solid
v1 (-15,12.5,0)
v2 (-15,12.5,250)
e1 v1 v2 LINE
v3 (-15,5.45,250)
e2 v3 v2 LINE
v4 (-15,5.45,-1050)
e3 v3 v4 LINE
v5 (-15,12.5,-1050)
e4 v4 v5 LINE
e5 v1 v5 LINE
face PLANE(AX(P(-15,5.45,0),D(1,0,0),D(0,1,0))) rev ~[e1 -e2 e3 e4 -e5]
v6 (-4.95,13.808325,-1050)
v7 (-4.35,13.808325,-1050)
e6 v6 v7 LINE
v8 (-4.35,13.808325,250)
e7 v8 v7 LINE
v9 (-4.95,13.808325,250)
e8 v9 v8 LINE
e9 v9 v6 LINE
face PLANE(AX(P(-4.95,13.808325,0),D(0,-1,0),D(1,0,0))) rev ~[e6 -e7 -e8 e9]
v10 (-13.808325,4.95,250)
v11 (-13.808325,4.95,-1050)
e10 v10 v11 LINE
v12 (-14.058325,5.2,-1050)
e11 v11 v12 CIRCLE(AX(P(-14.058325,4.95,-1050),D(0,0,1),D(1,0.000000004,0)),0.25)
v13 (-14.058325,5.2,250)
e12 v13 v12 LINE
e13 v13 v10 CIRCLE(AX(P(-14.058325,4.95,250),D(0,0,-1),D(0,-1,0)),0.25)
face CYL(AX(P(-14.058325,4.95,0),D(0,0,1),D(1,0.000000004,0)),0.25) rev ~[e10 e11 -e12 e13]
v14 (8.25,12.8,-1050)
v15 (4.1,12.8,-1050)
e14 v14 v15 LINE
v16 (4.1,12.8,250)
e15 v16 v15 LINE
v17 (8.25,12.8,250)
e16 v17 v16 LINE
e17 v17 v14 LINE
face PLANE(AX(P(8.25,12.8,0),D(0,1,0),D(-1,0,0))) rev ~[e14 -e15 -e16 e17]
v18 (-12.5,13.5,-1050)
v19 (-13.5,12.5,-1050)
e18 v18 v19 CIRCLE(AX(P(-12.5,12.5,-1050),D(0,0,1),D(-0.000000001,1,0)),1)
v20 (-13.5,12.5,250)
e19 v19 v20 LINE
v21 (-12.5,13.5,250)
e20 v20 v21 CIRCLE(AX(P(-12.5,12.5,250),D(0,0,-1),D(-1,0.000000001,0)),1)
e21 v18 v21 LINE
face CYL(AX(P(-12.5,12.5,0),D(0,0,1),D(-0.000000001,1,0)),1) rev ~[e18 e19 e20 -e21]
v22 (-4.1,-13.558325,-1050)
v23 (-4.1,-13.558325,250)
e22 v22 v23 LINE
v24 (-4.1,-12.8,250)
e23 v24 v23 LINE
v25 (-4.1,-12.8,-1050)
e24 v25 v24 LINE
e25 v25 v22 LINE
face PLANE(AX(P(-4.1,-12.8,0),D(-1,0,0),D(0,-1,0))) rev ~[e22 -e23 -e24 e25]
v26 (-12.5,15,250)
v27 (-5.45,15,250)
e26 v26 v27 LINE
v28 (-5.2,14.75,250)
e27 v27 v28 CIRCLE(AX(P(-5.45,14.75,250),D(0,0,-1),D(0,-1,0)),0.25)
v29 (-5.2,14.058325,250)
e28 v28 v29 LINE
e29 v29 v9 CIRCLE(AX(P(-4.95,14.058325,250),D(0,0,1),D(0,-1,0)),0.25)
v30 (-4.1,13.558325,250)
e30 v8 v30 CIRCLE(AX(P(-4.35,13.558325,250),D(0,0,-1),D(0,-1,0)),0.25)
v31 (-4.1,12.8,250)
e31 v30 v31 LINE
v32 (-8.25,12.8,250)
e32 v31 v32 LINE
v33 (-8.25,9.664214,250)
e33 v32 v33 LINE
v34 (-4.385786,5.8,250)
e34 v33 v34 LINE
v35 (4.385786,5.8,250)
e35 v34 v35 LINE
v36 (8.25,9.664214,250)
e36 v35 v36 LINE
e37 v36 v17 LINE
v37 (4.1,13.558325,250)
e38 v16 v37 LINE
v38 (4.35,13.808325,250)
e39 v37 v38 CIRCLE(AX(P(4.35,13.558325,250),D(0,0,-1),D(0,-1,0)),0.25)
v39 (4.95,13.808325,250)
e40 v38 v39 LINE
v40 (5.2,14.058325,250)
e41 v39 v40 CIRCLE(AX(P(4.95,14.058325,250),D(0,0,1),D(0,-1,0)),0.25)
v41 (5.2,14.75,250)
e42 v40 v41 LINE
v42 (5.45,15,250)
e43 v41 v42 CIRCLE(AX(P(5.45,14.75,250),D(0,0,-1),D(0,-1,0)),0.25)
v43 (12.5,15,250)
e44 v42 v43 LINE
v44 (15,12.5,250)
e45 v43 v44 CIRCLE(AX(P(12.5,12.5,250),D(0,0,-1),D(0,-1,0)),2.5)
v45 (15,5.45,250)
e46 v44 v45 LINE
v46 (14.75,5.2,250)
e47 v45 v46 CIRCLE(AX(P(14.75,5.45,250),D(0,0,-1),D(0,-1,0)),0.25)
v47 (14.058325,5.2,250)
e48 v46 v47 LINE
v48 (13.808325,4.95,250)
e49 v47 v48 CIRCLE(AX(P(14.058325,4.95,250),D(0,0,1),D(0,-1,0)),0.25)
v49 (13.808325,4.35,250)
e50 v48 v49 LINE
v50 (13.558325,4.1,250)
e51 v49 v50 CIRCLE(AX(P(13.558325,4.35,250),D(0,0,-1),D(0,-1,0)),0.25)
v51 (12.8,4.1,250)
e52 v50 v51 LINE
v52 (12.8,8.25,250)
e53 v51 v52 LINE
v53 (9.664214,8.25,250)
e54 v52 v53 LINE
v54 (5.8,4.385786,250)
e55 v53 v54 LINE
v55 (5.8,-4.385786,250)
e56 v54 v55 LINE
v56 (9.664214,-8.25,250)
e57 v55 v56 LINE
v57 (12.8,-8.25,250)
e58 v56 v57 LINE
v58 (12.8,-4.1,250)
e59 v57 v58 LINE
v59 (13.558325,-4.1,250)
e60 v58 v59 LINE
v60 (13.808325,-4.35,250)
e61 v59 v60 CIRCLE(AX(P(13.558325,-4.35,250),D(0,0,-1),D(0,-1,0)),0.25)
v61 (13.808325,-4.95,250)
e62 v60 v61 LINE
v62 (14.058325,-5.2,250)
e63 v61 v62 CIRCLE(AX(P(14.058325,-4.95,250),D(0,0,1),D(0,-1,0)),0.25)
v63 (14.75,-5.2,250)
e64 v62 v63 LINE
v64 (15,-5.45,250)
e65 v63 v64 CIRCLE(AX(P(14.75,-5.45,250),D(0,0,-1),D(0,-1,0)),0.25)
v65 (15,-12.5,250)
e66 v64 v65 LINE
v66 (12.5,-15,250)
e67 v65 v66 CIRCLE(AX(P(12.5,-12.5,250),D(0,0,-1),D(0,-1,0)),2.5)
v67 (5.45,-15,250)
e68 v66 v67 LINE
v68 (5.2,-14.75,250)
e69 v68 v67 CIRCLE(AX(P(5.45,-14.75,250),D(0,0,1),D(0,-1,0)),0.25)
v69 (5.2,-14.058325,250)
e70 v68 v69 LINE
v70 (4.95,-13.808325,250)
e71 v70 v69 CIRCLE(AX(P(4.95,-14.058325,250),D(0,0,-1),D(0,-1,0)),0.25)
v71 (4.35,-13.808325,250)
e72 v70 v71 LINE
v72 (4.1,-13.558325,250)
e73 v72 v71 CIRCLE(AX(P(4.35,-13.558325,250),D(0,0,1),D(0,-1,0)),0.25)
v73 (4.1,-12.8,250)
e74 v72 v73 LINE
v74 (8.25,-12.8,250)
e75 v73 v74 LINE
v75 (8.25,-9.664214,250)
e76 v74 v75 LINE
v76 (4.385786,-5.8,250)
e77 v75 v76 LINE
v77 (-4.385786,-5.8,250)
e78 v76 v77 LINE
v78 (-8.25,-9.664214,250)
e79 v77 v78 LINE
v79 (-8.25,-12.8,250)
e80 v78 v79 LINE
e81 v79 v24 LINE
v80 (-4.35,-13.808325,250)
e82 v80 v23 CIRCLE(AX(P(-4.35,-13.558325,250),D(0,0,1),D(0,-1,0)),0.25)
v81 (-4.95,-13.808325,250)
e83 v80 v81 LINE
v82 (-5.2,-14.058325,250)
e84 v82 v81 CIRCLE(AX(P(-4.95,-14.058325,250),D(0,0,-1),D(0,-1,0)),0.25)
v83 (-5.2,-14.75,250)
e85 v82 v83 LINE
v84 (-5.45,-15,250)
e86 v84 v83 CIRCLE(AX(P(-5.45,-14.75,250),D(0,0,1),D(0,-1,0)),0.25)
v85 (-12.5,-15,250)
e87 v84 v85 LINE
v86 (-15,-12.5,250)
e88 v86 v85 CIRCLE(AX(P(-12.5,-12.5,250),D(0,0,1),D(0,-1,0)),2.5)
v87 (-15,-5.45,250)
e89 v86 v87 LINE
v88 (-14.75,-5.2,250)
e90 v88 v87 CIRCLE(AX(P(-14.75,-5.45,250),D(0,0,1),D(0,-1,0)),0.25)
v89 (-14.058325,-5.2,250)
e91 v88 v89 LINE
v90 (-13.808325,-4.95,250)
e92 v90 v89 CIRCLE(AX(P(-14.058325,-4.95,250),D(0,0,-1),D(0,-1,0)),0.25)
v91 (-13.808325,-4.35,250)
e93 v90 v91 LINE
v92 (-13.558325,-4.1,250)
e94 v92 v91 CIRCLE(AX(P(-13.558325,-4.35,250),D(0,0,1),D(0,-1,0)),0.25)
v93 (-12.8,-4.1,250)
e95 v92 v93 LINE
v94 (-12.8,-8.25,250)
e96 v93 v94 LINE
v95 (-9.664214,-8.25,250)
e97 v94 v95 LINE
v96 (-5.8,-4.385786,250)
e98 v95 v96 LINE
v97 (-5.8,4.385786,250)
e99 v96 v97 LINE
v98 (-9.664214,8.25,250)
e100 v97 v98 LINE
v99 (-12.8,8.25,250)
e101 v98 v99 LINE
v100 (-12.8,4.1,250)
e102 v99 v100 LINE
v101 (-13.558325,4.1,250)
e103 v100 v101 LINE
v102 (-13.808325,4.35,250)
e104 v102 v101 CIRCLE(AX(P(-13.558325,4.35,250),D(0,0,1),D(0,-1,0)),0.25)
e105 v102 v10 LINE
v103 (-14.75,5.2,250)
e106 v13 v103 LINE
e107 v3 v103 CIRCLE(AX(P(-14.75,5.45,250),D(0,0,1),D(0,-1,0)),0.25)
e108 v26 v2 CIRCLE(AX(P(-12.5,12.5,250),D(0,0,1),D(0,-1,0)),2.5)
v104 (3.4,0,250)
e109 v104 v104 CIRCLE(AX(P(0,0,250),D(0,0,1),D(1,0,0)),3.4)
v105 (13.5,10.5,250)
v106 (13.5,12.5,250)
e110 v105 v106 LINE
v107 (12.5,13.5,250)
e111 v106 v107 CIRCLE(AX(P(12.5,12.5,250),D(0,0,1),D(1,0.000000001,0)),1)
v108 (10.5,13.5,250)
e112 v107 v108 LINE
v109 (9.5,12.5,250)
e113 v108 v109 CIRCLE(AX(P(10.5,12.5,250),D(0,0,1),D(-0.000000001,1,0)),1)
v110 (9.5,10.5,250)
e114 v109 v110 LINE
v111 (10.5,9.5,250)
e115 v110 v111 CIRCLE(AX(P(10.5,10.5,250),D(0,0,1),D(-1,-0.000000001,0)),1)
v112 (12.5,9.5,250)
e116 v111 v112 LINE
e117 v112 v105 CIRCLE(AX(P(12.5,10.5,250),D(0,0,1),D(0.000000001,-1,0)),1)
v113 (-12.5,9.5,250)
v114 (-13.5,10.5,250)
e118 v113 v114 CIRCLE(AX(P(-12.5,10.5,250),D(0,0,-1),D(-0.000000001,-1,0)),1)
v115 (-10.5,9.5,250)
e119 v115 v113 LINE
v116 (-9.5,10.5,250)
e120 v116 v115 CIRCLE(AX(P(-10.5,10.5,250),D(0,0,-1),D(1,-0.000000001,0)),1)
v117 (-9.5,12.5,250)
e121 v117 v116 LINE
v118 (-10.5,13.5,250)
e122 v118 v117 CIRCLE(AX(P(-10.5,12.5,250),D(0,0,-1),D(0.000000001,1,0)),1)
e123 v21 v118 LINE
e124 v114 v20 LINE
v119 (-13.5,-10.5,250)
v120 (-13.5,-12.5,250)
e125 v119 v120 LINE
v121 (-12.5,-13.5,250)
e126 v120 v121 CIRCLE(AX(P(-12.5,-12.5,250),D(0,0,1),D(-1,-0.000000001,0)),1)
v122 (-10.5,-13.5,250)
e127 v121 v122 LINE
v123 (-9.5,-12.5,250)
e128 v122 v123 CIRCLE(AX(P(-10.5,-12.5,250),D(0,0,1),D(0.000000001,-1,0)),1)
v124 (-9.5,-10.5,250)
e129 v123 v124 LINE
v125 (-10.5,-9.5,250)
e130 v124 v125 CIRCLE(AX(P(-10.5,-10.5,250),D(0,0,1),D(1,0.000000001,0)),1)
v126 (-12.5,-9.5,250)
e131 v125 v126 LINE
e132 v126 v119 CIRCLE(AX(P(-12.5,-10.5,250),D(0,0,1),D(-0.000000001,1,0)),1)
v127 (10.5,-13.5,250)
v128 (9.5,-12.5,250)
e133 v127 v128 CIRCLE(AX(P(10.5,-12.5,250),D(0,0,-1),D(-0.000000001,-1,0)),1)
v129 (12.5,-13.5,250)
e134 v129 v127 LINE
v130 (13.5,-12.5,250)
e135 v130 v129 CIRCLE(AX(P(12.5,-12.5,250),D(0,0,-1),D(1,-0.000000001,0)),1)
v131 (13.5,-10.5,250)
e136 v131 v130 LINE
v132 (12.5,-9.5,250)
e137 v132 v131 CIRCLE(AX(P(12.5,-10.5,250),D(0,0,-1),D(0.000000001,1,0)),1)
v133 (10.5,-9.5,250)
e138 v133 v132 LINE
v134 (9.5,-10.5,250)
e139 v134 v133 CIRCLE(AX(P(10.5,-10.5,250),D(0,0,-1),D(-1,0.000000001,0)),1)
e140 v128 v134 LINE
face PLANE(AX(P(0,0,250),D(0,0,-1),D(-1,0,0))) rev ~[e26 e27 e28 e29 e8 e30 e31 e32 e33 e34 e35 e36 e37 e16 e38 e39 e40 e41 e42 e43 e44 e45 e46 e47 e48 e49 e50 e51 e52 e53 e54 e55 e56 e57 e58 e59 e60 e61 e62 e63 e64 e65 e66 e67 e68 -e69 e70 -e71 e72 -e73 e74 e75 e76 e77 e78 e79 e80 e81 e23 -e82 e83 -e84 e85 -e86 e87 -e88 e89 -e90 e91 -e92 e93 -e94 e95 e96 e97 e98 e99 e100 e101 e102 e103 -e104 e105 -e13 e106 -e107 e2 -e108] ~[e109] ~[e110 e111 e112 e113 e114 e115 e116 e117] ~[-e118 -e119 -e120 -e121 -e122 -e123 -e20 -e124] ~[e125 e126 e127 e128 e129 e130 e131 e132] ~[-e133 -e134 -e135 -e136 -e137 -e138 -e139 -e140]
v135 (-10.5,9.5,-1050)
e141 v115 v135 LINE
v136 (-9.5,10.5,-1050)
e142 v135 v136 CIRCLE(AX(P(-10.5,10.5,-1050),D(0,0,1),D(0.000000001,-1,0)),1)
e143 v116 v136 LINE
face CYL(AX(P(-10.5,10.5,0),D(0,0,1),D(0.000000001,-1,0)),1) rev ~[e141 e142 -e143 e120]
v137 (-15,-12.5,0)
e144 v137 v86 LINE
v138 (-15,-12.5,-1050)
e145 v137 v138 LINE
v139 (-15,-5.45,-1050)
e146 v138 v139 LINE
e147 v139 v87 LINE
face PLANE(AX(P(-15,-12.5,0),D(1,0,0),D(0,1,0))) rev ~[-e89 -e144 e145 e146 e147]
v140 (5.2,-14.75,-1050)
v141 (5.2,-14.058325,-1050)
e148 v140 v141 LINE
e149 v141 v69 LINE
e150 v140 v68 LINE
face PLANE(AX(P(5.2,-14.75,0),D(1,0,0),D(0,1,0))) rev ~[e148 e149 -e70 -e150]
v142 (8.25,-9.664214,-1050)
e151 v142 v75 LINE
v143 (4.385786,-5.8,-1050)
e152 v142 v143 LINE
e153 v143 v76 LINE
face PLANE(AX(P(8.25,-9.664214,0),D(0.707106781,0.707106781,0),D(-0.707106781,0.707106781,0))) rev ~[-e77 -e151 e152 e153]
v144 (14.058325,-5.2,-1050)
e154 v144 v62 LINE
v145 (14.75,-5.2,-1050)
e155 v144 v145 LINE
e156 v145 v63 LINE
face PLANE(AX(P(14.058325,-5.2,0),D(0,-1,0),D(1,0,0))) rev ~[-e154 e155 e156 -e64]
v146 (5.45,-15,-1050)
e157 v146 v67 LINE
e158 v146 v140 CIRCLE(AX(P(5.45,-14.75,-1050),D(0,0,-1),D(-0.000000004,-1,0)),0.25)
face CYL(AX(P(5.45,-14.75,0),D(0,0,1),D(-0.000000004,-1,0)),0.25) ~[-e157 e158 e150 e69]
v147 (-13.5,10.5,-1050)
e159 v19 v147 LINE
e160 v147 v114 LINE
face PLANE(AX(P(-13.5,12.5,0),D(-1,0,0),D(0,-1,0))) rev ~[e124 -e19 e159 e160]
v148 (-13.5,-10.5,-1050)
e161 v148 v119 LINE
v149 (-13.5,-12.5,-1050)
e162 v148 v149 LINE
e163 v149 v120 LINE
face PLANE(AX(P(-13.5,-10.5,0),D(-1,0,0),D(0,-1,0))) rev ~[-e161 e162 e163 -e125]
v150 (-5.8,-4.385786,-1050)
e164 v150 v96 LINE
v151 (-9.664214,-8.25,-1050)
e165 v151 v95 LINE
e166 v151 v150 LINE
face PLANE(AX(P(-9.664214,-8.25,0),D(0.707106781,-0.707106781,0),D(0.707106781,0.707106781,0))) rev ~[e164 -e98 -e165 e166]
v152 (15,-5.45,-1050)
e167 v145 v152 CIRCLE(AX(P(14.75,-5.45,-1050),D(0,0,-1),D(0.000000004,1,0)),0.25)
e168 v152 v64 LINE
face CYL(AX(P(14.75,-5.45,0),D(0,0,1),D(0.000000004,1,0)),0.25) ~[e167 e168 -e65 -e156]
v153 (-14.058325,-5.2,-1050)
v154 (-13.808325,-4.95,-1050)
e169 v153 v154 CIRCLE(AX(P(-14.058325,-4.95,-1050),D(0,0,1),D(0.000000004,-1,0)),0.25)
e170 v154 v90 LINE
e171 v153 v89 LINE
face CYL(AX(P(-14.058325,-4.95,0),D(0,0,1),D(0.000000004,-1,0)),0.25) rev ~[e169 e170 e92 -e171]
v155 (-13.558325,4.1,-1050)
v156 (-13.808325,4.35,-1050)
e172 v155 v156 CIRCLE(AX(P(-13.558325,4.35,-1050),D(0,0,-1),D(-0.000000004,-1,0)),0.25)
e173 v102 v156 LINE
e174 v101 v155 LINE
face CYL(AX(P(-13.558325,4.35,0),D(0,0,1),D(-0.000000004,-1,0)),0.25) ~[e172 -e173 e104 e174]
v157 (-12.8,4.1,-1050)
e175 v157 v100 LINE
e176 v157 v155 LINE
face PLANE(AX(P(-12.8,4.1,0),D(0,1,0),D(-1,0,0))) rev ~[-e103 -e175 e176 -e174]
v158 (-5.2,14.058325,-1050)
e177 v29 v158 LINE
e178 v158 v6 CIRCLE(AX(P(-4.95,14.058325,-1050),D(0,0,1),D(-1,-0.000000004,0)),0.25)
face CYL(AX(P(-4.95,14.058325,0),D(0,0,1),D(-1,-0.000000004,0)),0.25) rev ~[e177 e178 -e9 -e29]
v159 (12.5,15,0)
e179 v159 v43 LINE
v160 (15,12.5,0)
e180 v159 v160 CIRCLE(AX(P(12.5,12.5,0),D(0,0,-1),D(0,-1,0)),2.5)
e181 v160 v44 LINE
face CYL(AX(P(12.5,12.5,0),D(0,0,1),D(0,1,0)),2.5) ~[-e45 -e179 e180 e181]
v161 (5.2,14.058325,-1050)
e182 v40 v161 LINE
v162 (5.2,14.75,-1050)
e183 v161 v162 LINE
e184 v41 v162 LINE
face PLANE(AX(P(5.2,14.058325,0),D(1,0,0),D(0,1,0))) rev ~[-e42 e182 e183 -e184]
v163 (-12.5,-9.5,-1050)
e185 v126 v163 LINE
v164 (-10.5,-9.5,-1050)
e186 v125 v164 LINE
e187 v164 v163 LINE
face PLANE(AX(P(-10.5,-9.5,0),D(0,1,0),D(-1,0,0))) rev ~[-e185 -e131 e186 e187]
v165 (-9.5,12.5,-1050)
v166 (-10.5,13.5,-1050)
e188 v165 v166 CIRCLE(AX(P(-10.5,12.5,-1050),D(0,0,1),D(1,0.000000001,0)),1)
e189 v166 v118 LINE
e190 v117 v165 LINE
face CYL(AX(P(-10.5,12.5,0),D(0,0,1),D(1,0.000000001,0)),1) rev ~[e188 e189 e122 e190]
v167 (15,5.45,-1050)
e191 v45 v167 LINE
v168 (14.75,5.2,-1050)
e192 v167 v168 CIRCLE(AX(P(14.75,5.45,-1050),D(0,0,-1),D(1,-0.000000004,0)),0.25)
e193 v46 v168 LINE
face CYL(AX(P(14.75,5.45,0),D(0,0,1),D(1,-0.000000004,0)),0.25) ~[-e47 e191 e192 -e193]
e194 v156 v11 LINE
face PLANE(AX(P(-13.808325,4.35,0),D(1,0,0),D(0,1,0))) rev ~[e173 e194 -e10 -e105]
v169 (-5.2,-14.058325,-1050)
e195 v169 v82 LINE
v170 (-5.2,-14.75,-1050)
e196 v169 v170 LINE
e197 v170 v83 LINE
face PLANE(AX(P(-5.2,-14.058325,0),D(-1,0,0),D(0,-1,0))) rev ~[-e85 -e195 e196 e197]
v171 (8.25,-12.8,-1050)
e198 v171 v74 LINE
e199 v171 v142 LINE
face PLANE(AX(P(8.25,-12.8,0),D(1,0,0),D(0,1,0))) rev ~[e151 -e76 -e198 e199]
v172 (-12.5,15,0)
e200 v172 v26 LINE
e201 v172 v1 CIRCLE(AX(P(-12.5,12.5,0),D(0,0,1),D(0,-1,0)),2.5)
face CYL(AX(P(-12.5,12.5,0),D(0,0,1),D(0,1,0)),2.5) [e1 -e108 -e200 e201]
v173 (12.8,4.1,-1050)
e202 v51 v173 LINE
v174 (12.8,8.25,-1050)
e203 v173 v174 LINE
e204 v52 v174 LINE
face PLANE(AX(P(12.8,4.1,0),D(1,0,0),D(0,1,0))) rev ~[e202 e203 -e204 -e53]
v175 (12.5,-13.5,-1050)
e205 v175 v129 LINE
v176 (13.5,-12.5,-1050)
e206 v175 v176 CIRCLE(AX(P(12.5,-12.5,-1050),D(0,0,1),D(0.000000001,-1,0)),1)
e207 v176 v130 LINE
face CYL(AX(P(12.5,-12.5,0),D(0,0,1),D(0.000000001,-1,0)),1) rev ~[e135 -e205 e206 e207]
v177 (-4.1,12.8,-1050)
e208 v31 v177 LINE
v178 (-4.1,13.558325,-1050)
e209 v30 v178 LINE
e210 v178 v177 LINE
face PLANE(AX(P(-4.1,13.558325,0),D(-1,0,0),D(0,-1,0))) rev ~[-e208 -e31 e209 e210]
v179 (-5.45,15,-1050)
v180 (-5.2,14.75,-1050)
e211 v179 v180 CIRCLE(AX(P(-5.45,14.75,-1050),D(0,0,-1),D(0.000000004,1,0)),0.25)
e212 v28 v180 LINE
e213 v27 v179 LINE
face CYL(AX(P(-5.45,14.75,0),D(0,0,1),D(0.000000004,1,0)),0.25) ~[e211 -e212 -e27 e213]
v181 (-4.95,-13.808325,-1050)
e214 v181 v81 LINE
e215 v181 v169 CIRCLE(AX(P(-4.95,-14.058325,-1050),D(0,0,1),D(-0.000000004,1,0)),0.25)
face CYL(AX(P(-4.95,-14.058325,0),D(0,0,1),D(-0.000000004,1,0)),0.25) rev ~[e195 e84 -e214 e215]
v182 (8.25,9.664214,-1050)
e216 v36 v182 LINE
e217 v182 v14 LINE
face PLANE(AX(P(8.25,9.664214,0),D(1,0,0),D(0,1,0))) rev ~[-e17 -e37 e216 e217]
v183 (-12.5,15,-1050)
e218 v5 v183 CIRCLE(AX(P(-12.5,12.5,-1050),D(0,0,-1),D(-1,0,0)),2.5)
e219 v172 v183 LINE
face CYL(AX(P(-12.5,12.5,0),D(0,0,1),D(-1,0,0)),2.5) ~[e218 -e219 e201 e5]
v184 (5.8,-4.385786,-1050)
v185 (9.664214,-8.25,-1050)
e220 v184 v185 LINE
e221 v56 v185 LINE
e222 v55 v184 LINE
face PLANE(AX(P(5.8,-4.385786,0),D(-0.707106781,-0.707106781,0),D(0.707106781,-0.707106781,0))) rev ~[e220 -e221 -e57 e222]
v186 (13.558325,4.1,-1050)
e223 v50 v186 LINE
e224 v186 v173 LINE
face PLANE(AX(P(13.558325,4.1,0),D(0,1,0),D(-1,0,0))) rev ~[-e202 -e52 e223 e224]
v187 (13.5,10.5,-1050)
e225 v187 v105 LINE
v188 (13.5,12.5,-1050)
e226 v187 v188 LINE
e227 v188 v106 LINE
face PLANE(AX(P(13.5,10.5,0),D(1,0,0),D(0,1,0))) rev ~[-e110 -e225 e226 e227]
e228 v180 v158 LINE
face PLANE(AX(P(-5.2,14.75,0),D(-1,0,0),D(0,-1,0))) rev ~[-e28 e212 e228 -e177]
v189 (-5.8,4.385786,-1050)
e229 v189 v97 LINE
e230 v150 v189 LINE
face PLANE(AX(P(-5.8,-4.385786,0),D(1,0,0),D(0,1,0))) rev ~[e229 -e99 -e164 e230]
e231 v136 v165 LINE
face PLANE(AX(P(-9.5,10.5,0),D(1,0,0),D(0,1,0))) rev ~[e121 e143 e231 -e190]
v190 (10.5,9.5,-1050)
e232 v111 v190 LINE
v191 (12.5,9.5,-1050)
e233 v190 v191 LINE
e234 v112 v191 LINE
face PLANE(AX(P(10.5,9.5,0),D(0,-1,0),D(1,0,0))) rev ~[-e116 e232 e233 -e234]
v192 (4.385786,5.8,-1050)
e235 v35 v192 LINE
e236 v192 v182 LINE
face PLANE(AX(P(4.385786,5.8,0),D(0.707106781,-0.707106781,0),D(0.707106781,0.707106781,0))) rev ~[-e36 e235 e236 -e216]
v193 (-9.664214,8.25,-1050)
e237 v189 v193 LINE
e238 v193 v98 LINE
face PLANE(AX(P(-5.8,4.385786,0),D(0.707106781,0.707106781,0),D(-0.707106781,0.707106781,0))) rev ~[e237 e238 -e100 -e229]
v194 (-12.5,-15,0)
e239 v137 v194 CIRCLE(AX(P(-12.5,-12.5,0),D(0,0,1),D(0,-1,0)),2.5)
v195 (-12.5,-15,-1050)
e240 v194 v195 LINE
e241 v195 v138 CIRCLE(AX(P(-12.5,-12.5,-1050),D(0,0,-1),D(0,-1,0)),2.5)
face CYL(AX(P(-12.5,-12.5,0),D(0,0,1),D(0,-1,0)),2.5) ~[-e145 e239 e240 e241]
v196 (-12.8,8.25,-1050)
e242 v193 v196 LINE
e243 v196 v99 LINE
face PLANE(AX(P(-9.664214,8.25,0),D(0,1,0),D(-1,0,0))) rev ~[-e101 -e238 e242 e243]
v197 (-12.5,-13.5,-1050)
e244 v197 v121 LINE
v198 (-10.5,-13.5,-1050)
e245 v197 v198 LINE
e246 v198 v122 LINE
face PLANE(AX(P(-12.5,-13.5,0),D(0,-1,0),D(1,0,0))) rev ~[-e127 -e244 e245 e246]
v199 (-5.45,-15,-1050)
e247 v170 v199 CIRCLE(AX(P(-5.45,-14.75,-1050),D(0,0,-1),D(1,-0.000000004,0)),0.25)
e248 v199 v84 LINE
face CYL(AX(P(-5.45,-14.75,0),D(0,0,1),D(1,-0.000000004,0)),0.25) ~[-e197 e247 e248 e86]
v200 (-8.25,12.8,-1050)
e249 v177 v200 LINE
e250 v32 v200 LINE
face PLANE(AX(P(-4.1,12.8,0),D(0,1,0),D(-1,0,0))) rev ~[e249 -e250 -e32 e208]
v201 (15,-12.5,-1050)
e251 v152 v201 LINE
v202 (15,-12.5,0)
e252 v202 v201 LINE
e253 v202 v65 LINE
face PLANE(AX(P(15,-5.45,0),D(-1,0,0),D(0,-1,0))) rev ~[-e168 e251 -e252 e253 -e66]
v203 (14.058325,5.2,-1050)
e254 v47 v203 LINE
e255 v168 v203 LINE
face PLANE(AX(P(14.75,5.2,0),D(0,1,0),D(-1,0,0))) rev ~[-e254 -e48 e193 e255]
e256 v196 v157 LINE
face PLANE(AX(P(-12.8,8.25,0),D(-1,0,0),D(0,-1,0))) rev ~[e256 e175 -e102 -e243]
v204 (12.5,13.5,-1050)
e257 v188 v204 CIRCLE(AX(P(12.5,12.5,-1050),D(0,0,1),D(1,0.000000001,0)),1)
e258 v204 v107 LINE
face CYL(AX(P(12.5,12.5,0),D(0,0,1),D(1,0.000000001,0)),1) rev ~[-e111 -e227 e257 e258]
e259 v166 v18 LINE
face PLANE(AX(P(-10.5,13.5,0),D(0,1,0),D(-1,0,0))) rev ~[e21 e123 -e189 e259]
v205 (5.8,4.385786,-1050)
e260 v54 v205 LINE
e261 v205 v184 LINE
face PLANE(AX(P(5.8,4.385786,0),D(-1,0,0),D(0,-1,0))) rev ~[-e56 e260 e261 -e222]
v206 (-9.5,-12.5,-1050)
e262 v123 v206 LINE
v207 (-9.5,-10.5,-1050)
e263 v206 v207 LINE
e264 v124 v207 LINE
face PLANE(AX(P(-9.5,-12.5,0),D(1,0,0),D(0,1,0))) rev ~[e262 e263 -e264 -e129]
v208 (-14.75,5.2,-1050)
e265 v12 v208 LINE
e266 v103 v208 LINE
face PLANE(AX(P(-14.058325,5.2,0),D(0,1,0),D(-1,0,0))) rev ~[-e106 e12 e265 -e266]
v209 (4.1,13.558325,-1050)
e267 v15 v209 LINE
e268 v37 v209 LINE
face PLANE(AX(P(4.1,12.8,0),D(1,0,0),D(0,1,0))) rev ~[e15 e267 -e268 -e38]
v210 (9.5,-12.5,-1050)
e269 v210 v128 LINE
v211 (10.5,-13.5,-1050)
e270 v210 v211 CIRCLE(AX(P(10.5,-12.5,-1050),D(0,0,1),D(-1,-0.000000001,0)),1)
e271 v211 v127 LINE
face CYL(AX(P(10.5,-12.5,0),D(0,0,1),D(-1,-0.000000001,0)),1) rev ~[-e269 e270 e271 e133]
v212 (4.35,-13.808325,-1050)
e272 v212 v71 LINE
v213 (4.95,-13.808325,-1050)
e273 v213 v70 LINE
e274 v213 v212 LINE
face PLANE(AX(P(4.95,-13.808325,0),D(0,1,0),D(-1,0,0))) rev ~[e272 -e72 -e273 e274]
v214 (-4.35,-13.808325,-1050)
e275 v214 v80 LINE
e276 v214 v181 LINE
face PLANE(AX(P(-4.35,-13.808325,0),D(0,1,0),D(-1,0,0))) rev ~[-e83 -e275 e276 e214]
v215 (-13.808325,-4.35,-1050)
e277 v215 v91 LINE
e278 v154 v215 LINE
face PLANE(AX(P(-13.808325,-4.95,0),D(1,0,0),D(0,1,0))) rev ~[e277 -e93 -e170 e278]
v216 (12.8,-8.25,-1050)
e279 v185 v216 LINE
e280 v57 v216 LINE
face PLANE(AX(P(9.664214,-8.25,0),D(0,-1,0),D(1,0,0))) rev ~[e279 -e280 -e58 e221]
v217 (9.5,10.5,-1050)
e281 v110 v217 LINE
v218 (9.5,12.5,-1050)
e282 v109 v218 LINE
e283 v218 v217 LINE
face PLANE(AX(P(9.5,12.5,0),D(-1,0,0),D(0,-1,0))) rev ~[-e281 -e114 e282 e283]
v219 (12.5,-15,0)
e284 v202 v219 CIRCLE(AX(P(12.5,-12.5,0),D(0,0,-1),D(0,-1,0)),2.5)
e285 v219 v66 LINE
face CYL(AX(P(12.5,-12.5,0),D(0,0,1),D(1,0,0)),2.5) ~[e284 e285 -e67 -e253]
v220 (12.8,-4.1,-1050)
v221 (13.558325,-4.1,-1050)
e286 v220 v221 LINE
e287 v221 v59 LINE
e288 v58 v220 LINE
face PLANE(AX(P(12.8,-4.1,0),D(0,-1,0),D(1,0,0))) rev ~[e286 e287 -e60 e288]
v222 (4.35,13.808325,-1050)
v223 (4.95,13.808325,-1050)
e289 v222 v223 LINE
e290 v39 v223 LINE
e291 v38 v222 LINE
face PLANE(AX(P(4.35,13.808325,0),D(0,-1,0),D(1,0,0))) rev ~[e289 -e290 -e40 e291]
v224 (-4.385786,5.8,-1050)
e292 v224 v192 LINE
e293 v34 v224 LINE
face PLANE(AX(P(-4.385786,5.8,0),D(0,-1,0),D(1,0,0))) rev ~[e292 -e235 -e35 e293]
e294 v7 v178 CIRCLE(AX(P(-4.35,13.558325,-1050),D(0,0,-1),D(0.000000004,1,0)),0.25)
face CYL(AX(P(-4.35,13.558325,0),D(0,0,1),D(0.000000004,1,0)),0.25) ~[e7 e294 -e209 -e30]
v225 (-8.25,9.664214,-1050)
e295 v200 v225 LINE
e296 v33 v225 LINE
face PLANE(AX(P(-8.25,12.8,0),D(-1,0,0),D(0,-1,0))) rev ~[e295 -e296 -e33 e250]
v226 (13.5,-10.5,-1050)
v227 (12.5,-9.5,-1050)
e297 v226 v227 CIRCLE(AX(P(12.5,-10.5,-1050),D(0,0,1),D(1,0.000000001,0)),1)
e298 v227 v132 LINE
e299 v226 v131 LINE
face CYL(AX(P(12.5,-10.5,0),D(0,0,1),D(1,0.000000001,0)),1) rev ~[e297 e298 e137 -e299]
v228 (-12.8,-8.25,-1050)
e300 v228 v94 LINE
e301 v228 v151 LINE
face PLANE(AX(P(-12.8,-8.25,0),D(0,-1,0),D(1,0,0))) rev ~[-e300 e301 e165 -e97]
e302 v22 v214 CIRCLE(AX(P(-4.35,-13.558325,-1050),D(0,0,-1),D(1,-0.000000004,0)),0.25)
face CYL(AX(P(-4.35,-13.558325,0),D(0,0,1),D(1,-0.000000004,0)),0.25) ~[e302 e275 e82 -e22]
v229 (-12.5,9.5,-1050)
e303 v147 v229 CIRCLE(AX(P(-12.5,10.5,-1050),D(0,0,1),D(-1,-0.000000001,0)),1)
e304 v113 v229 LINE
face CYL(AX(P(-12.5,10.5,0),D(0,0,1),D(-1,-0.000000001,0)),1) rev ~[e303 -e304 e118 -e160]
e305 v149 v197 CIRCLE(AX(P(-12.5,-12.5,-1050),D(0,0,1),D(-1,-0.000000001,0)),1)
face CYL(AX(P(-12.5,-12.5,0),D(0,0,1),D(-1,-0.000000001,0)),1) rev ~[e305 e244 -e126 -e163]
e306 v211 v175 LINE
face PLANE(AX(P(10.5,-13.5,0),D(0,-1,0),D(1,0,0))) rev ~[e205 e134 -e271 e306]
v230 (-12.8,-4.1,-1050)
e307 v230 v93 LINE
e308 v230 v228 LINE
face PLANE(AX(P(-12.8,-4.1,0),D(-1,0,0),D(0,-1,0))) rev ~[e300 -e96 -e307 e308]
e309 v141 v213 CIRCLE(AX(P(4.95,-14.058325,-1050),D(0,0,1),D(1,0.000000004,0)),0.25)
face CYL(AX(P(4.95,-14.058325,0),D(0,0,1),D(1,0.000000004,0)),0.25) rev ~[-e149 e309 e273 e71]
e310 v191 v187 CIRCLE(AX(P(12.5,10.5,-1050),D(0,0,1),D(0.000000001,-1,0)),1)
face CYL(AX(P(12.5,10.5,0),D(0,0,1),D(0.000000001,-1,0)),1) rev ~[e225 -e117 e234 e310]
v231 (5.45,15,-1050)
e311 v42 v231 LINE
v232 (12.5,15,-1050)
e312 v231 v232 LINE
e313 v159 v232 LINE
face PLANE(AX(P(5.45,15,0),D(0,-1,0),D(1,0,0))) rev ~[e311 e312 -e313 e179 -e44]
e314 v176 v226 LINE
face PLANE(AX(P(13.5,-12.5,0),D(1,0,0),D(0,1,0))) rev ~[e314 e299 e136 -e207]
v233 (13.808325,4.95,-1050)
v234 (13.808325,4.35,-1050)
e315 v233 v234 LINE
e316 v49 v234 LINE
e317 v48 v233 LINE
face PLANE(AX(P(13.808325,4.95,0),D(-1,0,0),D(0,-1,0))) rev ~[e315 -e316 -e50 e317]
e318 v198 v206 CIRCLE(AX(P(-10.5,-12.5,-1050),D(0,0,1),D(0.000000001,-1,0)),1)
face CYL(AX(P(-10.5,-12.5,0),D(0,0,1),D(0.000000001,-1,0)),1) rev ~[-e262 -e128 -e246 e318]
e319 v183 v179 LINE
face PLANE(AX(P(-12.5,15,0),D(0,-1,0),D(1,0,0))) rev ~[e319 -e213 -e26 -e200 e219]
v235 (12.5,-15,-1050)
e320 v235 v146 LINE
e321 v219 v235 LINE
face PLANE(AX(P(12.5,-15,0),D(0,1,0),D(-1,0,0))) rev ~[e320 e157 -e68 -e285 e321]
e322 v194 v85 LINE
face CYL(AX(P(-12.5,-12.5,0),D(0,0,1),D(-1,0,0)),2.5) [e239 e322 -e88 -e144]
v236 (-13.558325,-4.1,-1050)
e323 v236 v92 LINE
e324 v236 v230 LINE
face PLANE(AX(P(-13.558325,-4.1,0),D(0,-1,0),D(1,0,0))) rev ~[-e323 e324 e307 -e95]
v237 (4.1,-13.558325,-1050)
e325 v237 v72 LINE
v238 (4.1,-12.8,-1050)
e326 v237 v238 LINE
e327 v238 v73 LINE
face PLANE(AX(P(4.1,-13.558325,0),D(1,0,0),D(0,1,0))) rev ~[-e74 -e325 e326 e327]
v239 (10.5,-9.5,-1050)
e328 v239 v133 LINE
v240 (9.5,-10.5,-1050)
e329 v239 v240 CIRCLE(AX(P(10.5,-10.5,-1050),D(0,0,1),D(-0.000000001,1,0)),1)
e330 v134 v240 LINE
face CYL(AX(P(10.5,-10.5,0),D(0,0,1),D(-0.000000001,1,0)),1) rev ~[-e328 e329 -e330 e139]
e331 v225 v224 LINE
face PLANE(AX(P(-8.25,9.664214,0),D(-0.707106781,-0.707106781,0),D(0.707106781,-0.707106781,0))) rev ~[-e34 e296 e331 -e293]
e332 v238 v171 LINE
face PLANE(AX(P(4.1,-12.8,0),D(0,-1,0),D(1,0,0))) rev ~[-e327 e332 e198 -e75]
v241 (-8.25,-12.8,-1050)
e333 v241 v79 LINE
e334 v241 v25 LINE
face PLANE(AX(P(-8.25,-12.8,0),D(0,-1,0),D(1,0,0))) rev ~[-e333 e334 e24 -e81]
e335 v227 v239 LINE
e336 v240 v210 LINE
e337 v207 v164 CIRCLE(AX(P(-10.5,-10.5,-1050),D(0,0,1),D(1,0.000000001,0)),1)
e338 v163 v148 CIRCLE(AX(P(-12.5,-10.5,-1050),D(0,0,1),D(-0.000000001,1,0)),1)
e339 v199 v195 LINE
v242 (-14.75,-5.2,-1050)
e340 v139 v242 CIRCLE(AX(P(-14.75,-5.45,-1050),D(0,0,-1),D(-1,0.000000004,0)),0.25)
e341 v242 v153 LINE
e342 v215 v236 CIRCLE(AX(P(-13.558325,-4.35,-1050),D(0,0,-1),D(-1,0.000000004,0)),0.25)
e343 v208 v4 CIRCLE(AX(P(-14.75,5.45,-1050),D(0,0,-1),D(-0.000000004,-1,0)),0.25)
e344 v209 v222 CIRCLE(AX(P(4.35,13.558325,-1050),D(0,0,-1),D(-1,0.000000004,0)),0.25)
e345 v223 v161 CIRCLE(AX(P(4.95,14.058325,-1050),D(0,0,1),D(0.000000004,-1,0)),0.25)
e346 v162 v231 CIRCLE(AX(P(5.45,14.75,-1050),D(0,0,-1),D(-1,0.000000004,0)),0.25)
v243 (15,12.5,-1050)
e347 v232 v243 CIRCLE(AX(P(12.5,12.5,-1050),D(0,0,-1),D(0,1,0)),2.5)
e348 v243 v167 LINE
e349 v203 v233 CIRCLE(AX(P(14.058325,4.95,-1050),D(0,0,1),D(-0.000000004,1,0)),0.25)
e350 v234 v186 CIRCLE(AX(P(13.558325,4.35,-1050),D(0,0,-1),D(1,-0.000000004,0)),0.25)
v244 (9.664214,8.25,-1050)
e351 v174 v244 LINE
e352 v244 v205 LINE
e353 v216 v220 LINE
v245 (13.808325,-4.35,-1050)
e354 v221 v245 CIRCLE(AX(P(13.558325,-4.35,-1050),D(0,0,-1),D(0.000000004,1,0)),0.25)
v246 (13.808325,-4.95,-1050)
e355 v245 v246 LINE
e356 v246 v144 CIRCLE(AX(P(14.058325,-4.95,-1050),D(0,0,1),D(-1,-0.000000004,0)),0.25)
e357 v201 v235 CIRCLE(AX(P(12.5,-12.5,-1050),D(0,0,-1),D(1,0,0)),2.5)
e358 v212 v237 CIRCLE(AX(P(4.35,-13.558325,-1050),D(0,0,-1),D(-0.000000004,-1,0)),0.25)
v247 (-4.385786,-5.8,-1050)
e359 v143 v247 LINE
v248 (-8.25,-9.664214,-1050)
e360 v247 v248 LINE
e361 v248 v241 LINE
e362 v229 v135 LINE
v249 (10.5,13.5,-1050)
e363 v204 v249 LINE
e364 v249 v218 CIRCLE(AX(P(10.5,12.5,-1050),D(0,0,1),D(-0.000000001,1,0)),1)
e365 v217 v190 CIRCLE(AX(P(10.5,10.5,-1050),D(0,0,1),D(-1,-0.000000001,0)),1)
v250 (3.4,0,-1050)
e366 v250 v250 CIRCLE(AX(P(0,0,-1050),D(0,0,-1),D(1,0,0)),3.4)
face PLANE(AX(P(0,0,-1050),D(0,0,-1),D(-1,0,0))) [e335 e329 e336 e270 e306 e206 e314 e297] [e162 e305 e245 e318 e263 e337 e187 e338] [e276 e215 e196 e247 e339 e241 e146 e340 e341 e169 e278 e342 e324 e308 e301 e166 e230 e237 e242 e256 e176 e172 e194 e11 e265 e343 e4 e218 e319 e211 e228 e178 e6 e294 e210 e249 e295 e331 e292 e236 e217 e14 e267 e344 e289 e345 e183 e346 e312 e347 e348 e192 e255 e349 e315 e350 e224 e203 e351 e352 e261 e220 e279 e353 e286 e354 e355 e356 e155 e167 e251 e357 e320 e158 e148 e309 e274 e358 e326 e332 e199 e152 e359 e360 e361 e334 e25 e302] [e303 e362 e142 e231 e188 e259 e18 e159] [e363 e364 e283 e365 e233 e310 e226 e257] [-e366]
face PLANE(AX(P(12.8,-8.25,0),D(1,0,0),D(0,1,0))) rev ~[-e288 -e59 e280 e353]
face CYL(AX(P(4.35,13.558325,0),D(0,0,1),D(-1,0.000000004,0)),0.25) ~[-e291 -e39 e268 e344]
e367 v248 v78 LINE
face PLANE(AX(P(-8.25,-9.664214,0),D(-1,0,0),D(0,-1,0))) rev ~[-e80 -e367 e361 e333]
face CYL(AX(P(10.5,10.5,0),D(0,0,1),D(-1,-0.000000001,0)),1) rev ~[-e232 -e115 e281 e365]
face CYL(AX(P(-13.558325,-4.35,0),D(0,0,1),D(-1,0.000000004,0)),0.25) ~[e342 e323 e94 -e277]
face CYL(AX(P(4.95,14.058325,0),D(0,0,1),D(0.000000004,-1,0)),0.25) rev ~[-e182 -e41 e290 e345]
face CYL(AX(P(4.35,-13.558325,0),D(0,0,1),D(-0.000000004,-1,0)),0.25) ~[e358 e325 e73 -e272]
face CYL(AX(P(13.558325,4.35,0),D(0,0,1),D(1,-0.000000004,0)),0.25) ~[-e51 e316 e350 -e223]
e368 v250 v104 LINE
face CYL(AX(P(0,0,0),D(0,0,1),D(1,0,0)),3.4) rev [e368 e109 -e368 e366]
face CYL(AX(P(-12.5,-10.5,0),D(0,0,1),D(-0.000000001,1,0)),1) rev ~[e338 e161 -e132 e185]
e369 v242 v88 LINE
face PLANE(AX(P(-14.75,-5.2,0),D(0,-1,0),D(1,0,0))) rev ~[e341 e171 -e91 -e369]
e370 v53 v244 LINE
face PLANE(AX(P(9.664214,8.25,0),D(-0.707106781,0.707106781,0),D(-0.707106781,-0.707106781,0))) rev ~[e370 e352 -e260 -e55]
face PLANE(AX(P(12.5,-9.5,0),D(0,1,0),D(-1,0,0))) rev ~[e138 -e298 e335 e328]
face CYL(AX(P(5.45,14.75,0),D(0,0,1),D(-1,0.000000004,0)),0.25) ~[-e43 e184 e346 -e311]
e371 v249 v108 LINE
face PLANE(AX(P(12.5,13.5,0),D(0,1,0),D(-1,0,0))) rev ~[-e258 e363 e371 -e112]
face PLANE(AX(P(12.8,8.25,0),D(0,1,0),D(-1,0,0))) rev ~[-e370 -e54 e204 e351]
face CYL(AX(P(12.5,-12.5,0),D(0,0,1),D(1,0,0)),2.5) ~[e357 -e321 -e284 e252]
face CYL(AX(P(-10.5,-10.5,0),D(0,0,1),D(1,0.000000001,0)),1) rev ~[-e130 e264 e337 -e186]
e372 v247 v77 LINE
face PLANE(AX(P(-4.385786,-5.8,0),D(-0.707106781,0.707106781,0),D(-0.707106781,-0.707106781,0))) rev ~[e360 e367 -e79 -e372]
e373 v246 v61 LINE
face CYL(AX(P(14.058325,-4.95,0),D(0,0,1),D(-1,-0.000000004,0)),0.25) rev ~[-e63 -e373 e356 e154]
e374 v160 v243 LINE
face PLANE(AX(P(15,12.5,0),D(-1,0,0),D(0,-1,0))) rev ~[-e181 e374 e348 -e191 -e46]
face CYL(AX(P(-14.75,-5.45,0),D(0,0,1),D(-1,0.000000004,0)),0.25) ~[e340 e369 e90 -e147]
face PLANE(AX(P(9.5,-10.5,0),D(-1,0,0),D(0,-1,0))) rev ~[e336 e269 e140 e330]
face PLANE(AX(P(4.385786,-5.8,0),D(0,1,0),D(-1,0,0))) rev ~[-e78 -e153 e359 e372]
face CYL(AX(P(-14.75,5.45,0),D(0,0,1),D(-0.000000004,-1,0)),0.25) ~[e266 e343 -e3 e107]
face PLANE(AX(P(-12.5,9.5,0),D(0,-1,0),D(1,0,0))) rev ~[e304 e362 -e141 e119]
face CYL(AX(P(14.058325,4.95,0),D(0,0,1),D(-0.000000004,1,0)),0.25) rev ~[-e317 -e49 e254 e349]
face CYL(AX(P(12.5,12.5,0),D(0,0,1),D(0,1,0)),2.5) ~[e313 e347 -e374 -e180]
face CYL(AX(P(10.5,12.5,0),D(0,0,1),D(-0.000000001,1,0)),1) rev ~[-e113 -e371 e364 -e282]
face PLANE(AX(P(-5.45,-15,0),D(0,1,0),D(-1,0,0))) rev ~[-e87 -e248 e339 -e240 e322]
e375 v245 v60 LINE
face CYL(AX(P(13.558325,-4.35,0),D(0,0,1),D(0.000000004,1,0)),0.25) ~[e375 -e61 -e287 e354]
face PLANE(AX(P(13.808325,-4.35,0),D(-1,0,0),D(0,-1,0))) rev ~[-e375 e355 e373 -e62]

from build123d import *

# Parameters (mm, degrees)
BOSS_EXTRUDE1_DEPTH = 250
SKETCH2_R           = 3.4
CUT_EXTRUDE1_DEPTH  = 251.898385806
FILLET1_R           = 2.5
FILLET2_R           = 0.25
SKETCH3_R           = 3.4
BOSS_EXTRUDE2_DEPTH = 1050


with BuildPart() as part:
    # Sketch1 → Boss-Extrude1 (new body)
    with BuildSketch(Plane.XY):
        Polygon((-15, 15), (-5.2, 15), (-5.2, 13.808325472), (-4.1, 13.808325472), (-4.1, 12.8), (-8.25, 12.8), (-8.25, 9.664213562), (-4.385786438, 5.8), (4.385786438, 5.8), (8.25, 9.664213562), (8.25, 12.8), (4.1, 12.8), (4.1, 13.808325472), (5.2, 13.808325472), (5.2, 15), (15, 15), (15, 5.2), (13.808325472, 5.2), (13.808325472, 4.1), (12.8, 4.1), (12.8, 8.25), (9.664213562, 8.25), (5.8, 4.385786438), (5.8, -4.385786438), (9.664213562, -8.25), (12.8, -8.25), (12.8, -4.1), (13.808325472, -4.1), (13.808325472, -5.2), (15, -5.2), (15, -15), (5.2, -15), (5.2, -13.808325472), (4.1, -13.808325472), (4.1, -12.8), (8.25, -12.8), (8.25, -9.664213562), (4.385786438, -5.8), (-4.385786438, -5.8), (-8.25, -9.664213562), (-8.25, -12.8), (-4.1, -12.8), (-4.1, -13.808325472), (-5.2, -13.808325472), (-5.2, -15), (-15, -15), (-15, -5.2), (-13.808325472, -5.2), (-13.808325472, -4.1), (-12.8, -4.1), (-12.8, -8.25), (-9.664213562, -8.25), (-5.8, -4.385786438), (-5.8, 4.385786438), (-9.664213562, 8.25), (-12.8, 8.25), (-12.8, 4.1), (-13.808325472, 4.1), (-13.808325472, 5.2), (-15, 5.2), align=None)
    extrude(amount=BOSS_EXTRUDE1_DEPTH)

    # Sketch2 → Cut-Extrude1 (cut, through all)
    with BuildSketch(Plane.XY.offset(250)):
        Circle(SKETCH2_R)
        with BuildLine():
            Line((-12.5, 13.5), (-10.5, 13.5))
            ThreePointArc((-10.5, 13.5), (-9.792893219, 13.207106781), (-9.5, 12.5))
            Line((-9.5, 12.5), (-9.5, 10.5))
            ThreePointArc((-9.5, 10.5), (-9.792893219, 9.792893219), (-10.5, 9.5))
            Line((-10.5, 9.5), (-12.5, 9.5))
            ThreePointArc((-12.5, 9.5), (-13.207106781, 9.792893219), (-13.5, 10.5))
            Line((-13.5, 10.5), (-13.5, 12.5))
            ThreePointArc((-13.5, 12.5), (-13.207106781, 13.207106781), (-12.5, 13.5))
        make_face()
        with BuildLine():
            Line((9.5, 12.5), (9.5, 10.5))
            ThreePointArc((9.5, 10.5), (9.792893219, 9.792893219), (10.5, 9.5))
            Line((10.5, 9.5), (12.5, 9.5))
            ThreePointArc((12.5, 9.5), (13.207106781, 9.792893219), (13.5, 10.5))
            Line((13.5, 10.5), (13.5, 12.5))
            ThreePointArc((13.5, 12.5), (13.207106781, 13.207106781), (12.5, 13.5))
            Line((12.5, 13.5), (10.5, 13.5))
            ThreePointArc((10.5, 13.5), (9.792893219, 13.207106781), (9.5, 12.5))
        make_face()
        with BuildLine():
            Line((12.5, -13.5), (10.5, -13.5))
            ThreePointArc((10.5, -13.5), (9.792893219, -13.207106781), (9.5, -12.5))
            Line((9.5, -12.5), (9.5, -10.5))
            ThreePointArc((9.5, -10.5), (9.792893219, -9.792893219), (10.5, -9.5))
            Line((10.5, -9.5), (12.5, -9.5))
            ThreePointArc((12.5, -9.5), (13.207106781, -9.792893219), (13.5, -10.5))
            Line((13.5, -10.5), (13.5, -12.5))
            ThreePointArc((13.5, -12.5), (13.207106781, -13.207106781), (12.5, -13.5))
        make_face()
        with BuildLine():
            Line((-9.5, -12.5), (-9.5, -10.5))
            ThreePointArc((-9.5, -10.5), (-9.792893219, -9.792893219), (-10.5, -9.5))
            Line((-10.5, -9.5), (-12.5, -9.5))
            ThreePointArc((-12.5, -9.5), (-13.207106781, -9.792893219), (-13.5, -10.5))
            Line((-13.5, -10.5), (-13.5, -12.5))
            ThreePointArc((-13.5, -12.5), (-13.207106781, -13.207106781), (-12.5, -13.5))
            Line((-12.5, -13.5), (-10.5, -13.5))
            ThreePointArc((-10.5, -13.5), (-9.792893219, -13.207106781), (-9.5, -12.5))
        make_face()
    extrude(amount=-CUT_EXTRUDE1_DEPTH, mode=Mode.SUBTRACT)

    # Fillet1
    fillet1_edges = [part.edges().sort_by_distance(p)[0] for p in [
        (15, -15, 125),
        (-15, -15, 125),
        (-15, 15, 125),
        (15, 15, 125),
    ]]
    fillet(fillet1_edges, radius=FILLET1_R)

    # Fillet2
    fillet2_edges = [part.edges().sort_by_distance(p)[0] for p in [
        (5.2, -15, 125),
        (5.2, -13.808325472, 125),
        (4.1, -13.808325472, 125),
        (-4.1, -13.808325472, 125),
        (-5.2, -13.808325472, 125),
        (-5.2, -15, 125),
        (-15, -5.2, 125),
        (-13.808325472, -5.2, 125),
        (-13.808325472, -4.1, 125),
        (-13.808325472, 4.1, 125),
        (-13.808325472, 5.2, 125),
        (-15, 5.2, 125),
        (-5.2, 15, 125),
        (-5.2, 13.808325472, 125),
        (-4.1, 13.808325472, 125),
        (4.1, 13.808325472, 125),
        (5.2, 13.808325472, 125),
        (5.2, 15, 125),
        (15, 5.2, 125),
        (13.808325472, 5.2, 125),
        (13.808325472, 4.1, 125),
        (13.808325472, -4.1, 125),
        (13.808325472, -5.2, 125),
        (15, -5.2, 125),
    ]]
    fillet(fillet2_edges, radius=FILLET2_R)

    # Sketch3 → Boss-Extrude2 (add)
    with BuildSketch(Plane(origin=(0, 0, 0), x_dir=(-1, 0, 0), z_dir=(0, 0, -1))):
        with BuildLine():
            Line((12.8, 4.1), (13.558325472, 4.1))
            ThreePointArc((13.558325472, 4.1), (13.735102167, 4.173223305), (13.808325472, 4.35))
            Line((13.808325472, 4.35), (13.808325472, 4.95))
            ThreePointArc((13.808325472, 4.95), (13.881548777, 5.126776695), (14.058325472, 5.2))
            Line((14.058325472, 5.2), (14.75, 5.2))
            ThreePointArc((14.75, 5.2), (14.926776695, 5.273223305), (15, 5.45))
            Line((15, 5.45), (15, 12.5))
            ThreePointArc((15, 12.5), (14.267766953, 14.267766953), (12.5, 15))
            Line((12.5, 15), (5.45, 15))
            ThreePointArc((5.45, 15), (5.273223305, 14.926776695), (5.2, 14.75))
            Line((5.2, 14.75), (5.2, 14.058325472))
            ThreePointArc((5.2, 14.058325472), (5.126776695, 13.881548777), (4.95, 13.808325472))
            Line((4.95, 13.808325472), (4.35, 13.808325472))
            ThreePointArc((4.35, 13.808325472), (4.173223305, 13.735102167), (4.1, 13.558325472))
            Line((4.1, 13.558325472), (4.1, 12.8))
            Line((4.1, 12.8), (8.25, 12.8))
            Line((8.25, 12.8), (8.25, 9.664213562))
            Line((8.25, 9.664213562), (4.385786438, 5.8))
            Line((4.385786438, 5.8), (-4.385786438, 5.8))
            Line((-4.385786438, 5.8), (-8.25, 9.664213562))
            Line((-8.25, 9.664213562), (-8.25, 12.8))
            Line((-8.25, 12.8), (-4.1, 12.8))
            Line((-4.1, 12.8), (-4.1, 13.558325472))
            ThreePointArc((-4.1, 13.558325472), (-4.173223305, 13.735102167), (-4.35, 13.808325472))
            Line((-4.35, 13.808325472), (-4.95, 13.808325472))
            ThreePointArc((-4.95, 13.808325472), (-5.126776695, 13.881548777), (-5.2, 14.058325472))
            Line((-5.2, 14.058325472), (-5.2, 14.75))
            ThreePointArc((-5.2, 14.75), (-5.273223305, 14.926776695), (-5.45, 15))
            Line((-5.45, 15), (-12.5, 15))
            ThreePointArc((-12.5, 15), (-14.267766953, 14.267766953), (-15, 12.5))
            Line((-15, 12.5), (-15, 5.45))
            ThreePointArc((-15, 5.45), (-14.926776695, 5.273223305), (-14.75, 5.2))
            Line((-14.75, 5.2), (-14.058325472, 5.2))
            ThreePointArc((-14.058325472, 5.2), (-13.881548777, 5.126776695), (-13.808325472, 4.95))
            Line((-13.808325472, 4.95), (-13.808325472, 4.35))
            ThreePointArc((-13.808325472, 4.35), (-13.735102167, 4.173223305), (-13.558325472, 4.1))
            Line((-13.558325472, 4.1), (-12.8, 4.1))
            Line((-12.8, 4.1), (-12.8, 8.25))
            Line((-12.8, 8.25), (-9.664213562, 8.25))
            Line((-9.664213562, 8.25), (-5.8, 4.385786438))
            Line((-5.8, 4.385786438), (-5.8, -4.385786438))
            Line((-5.8, -4.385786438), (-9.664213562, -8.25))
            Line((-9.664213562, -8.25), (-12.8, -8.25))
            Line((-12.8, -8.25), (-12.8, -4.1))
            Line((-12.8, -4.1), (-13.558325472, -4.1))
            ThreePointArc((-13.558325472, -4.1), (-13.735102167, -4.173223305), (-13.808325472, -4.35))
            Line((-13.808325472, -4.35), (-13.808325472, -4.95))
            ThreePointArc((-13.808325472, -4.95), (-13.881548777, -5.126776695), (-14.058325472, -5.2))
            Line((-14.058325472, -5.2), (-14.75, -5.2))
            ThreePointArc((-14.75, -5.2), (-14.926776695, -5.273223305), (-15, -5.45))
            Line((-15, -5.45), (-15, -12.5))
            ThreePointArc((-15, -12.5), (-14.267766953, -14.267766953), (-12.5, -15))
            Line((-12.5, -15), (-5.45, -15))
            ThreePointArc((-5.45, -15), (-5.273223305, -14.926776695), (-5.2, -14.75))
            Line((-5.2, -14.75), (-5.2, -14.058325472))
            ThreePointArc((-5.2, -14.058325472), (-5.126776695, -13.881548777), (-4.95, -13.808325472))
            Line((-4.95, -13.808325472), (-4.35, -13.808325472))
            ThreePointArc((-4.35, -13.808325472), (-4.173223305, -13.735102167), (-4.1, -13.558325472))
            Line((-4.1, -13.558325472), (-4.1, -12.8))
            Line((-4.1, -12.8), (-8.25, -12.8))
            Line((-8.25, -12.8), (-8.25, -9.664213562))
            Line((-8.25, -9.664213562), (-4.385786438, -5.8))
            Line((-4.385786438, -5.8), (4.385786438, -5.8))
            Line((4.385786438, -5.8), (8.25, -9.664213562))
            Line((8.25, -9.664213562), (8.25, -12.8))
            Line((8.25, -12.8), (4.1, -12.8))
            Line((4.1, -12.8), (4.1, -13.558325472))
            ThreePointArc((4.1, -13.558325472), (4.173223305, -13.735102167), (4.35, -13.808325472))
            Line((4.35, -13.808325472), (4.95, -13.808325472))
            ThreePointArc((4.95, -13.808325472), (5.126776695, -13.881548777), (5.2, -14.058325472))
            Line((5.2, -14.058325472), (5.2, -14.75))
            ThreePointArc((5.2, -14.75), (5.273223305, -14.926776695), (5.45, -15))
            Line((5.45, -15), (12.5, -15))
            ThreePointArc((12.5, -15), (14.267766953, -14.267766953), (15, -12.5))
            Line((15, -12.5), (15, -5.45))
            ThreePointArc((15, -5.45), (14.926776695, -5.273223305), (14.75, -5.2))
            Line((14.75, -5.2), (14.058325472, -5.2))
            ThreePointArc((14.058325472, -5.2), (13.881548777, -5.126776695), (13.808325472, -4.95))
            Line((13.808325472, -4.95), (13.808325472, -4.35))
            ThreePointArc((13.808325472, -4.35), (13.735102167, -4.173223305), (13.558325472, -4.1))
            Line((13.558325472, -4.1), (12.8, -4.1))
            Line((12.8, -4.1), (12.8, -8.25))
            Line((12.8, -8.25), (9.664213562, -8.25))
            Line((9.664213562, -8.25), (5.8, -4.385786438))
            Line((5.8, -4.385786438), (5.8, 4.385786438))
            Line((5.8, 4.385786438), (9.664213562, 8.25))
            Line((9.664213562, 8.25), (12.8, 8.25))
            Line((12.8, 8.25), (12.8, 4.1))
        make_face()
        with Locations(Location((0, 0, 0), (0, 0, 180))):
            Circle(SKETCH3_R, mode=Mode.SUBTRACT)
        with BuildLine():
            Line((-9.5, 12.5), (-9.5, 10.5))
            ThreePointArc((-9.5, 10.5), (-9.792893219, 9.792893219), (-10.5, 9.5))
            Line((-10.5, 9.5), (-12.5, 9.5))
            ThreePointArc((-12.5, 9.5), (-13.207106781, 9.792893219), (-13.5, 10.5))
            Line((-13.5, 10.5), (-13.5, 12.5))
            ThreePointArc((-13.5, 12.5), (-13.207106781, 13.207106781), (-12.5, 13.5))
            Line((-12.5, 13.5), (-10.5, 13.5))
            ThreePointArc((-10.5, 13.5), (-9.792893219, 13.207106781), (-9.5, 12.5))
        make_face(mode=Mode.SUBTRACT)
        with BuildLine():
            Line((12.5, 9.5), (10.5, 9.5))
            ThreePointArc((10.5, 9.5), (9.792893219, 9.792893219), (9.5, 10.5))
            Line((9.5, 10.5), (9.5, 12.5))
            ThreePointArc((9.5, 12.5), (9.792893219, 13.207106781), (10.5, 13.5))
            Line((10.5, 13.5), (12.5, 13.5))
            ThreePointArc((12.5, 13.5), (13.207106781, 13.207106781), (13.5, 12.5))
            Line((13.5, 12.5), (13.5, 10.5))
            ThreePointArc((13.5, 10.5), (13.207106781, 9.792893219), (12.5, 9.5))
        make_face(mode=Mode.SUBTRACT)
        with BuildLine():
            Line((9.5, -12.5), (9.5, -10.5))
            ThreePointArc((9.5, -10.5), (9.792893219, -9.792893219), (10.5, -9.5))
            Line((10.5, -9.5), (12.5, -9.5))
            ThreePointArc((12.5, -9.5), (13.207106781, -9.792893219), (13.5, -10.5))
            Line((13.5, -10.5), (13.5, -12.5))
            ThreePointArc((13.5, -12.5), (13.207106781, -13.207106781), (12.5, -13.5))
            Line((12.5, -13.5), (10.5, -13.5))
            ThreePointArc((10.5, -13.5), (9.792893219, -13.207106781), (9.5, -12.5))
        make_face(mode=Mode.SUBTRACT)
        with BuildLine():
            Line((-9.5, -10.5), (-9.5, -12.5))
            ThreePointArc((-9.5, -12.5), (-9.792893219, -13.207106781), (-10.5, -13.5))
            Line((-10.5, -13.5), (-12.5, -13.5))
            ThreePointArc((-12.5, -13.5), (-13.207106781, -13.207106781), (-13.5, -12.5))
            Line((-13.5, -12.5), (-13.5, -10.5))
            ThreePointArc((-13.5, -10.5), (-13.207106781, -9.792893219), (-12.5, -9.5))
            Line((-12.5, -9.5), (-10.5, -9.5))
            ThreePointArc((-10.5, -9.5), (-9.792893219, -9.792893219), (-9.5, -10.5))
        make_face(mode=Mode.SUBTRACT)
    extrude(amount=BOSS_EXTRUDE2_DEPTH)


solid = part.part
